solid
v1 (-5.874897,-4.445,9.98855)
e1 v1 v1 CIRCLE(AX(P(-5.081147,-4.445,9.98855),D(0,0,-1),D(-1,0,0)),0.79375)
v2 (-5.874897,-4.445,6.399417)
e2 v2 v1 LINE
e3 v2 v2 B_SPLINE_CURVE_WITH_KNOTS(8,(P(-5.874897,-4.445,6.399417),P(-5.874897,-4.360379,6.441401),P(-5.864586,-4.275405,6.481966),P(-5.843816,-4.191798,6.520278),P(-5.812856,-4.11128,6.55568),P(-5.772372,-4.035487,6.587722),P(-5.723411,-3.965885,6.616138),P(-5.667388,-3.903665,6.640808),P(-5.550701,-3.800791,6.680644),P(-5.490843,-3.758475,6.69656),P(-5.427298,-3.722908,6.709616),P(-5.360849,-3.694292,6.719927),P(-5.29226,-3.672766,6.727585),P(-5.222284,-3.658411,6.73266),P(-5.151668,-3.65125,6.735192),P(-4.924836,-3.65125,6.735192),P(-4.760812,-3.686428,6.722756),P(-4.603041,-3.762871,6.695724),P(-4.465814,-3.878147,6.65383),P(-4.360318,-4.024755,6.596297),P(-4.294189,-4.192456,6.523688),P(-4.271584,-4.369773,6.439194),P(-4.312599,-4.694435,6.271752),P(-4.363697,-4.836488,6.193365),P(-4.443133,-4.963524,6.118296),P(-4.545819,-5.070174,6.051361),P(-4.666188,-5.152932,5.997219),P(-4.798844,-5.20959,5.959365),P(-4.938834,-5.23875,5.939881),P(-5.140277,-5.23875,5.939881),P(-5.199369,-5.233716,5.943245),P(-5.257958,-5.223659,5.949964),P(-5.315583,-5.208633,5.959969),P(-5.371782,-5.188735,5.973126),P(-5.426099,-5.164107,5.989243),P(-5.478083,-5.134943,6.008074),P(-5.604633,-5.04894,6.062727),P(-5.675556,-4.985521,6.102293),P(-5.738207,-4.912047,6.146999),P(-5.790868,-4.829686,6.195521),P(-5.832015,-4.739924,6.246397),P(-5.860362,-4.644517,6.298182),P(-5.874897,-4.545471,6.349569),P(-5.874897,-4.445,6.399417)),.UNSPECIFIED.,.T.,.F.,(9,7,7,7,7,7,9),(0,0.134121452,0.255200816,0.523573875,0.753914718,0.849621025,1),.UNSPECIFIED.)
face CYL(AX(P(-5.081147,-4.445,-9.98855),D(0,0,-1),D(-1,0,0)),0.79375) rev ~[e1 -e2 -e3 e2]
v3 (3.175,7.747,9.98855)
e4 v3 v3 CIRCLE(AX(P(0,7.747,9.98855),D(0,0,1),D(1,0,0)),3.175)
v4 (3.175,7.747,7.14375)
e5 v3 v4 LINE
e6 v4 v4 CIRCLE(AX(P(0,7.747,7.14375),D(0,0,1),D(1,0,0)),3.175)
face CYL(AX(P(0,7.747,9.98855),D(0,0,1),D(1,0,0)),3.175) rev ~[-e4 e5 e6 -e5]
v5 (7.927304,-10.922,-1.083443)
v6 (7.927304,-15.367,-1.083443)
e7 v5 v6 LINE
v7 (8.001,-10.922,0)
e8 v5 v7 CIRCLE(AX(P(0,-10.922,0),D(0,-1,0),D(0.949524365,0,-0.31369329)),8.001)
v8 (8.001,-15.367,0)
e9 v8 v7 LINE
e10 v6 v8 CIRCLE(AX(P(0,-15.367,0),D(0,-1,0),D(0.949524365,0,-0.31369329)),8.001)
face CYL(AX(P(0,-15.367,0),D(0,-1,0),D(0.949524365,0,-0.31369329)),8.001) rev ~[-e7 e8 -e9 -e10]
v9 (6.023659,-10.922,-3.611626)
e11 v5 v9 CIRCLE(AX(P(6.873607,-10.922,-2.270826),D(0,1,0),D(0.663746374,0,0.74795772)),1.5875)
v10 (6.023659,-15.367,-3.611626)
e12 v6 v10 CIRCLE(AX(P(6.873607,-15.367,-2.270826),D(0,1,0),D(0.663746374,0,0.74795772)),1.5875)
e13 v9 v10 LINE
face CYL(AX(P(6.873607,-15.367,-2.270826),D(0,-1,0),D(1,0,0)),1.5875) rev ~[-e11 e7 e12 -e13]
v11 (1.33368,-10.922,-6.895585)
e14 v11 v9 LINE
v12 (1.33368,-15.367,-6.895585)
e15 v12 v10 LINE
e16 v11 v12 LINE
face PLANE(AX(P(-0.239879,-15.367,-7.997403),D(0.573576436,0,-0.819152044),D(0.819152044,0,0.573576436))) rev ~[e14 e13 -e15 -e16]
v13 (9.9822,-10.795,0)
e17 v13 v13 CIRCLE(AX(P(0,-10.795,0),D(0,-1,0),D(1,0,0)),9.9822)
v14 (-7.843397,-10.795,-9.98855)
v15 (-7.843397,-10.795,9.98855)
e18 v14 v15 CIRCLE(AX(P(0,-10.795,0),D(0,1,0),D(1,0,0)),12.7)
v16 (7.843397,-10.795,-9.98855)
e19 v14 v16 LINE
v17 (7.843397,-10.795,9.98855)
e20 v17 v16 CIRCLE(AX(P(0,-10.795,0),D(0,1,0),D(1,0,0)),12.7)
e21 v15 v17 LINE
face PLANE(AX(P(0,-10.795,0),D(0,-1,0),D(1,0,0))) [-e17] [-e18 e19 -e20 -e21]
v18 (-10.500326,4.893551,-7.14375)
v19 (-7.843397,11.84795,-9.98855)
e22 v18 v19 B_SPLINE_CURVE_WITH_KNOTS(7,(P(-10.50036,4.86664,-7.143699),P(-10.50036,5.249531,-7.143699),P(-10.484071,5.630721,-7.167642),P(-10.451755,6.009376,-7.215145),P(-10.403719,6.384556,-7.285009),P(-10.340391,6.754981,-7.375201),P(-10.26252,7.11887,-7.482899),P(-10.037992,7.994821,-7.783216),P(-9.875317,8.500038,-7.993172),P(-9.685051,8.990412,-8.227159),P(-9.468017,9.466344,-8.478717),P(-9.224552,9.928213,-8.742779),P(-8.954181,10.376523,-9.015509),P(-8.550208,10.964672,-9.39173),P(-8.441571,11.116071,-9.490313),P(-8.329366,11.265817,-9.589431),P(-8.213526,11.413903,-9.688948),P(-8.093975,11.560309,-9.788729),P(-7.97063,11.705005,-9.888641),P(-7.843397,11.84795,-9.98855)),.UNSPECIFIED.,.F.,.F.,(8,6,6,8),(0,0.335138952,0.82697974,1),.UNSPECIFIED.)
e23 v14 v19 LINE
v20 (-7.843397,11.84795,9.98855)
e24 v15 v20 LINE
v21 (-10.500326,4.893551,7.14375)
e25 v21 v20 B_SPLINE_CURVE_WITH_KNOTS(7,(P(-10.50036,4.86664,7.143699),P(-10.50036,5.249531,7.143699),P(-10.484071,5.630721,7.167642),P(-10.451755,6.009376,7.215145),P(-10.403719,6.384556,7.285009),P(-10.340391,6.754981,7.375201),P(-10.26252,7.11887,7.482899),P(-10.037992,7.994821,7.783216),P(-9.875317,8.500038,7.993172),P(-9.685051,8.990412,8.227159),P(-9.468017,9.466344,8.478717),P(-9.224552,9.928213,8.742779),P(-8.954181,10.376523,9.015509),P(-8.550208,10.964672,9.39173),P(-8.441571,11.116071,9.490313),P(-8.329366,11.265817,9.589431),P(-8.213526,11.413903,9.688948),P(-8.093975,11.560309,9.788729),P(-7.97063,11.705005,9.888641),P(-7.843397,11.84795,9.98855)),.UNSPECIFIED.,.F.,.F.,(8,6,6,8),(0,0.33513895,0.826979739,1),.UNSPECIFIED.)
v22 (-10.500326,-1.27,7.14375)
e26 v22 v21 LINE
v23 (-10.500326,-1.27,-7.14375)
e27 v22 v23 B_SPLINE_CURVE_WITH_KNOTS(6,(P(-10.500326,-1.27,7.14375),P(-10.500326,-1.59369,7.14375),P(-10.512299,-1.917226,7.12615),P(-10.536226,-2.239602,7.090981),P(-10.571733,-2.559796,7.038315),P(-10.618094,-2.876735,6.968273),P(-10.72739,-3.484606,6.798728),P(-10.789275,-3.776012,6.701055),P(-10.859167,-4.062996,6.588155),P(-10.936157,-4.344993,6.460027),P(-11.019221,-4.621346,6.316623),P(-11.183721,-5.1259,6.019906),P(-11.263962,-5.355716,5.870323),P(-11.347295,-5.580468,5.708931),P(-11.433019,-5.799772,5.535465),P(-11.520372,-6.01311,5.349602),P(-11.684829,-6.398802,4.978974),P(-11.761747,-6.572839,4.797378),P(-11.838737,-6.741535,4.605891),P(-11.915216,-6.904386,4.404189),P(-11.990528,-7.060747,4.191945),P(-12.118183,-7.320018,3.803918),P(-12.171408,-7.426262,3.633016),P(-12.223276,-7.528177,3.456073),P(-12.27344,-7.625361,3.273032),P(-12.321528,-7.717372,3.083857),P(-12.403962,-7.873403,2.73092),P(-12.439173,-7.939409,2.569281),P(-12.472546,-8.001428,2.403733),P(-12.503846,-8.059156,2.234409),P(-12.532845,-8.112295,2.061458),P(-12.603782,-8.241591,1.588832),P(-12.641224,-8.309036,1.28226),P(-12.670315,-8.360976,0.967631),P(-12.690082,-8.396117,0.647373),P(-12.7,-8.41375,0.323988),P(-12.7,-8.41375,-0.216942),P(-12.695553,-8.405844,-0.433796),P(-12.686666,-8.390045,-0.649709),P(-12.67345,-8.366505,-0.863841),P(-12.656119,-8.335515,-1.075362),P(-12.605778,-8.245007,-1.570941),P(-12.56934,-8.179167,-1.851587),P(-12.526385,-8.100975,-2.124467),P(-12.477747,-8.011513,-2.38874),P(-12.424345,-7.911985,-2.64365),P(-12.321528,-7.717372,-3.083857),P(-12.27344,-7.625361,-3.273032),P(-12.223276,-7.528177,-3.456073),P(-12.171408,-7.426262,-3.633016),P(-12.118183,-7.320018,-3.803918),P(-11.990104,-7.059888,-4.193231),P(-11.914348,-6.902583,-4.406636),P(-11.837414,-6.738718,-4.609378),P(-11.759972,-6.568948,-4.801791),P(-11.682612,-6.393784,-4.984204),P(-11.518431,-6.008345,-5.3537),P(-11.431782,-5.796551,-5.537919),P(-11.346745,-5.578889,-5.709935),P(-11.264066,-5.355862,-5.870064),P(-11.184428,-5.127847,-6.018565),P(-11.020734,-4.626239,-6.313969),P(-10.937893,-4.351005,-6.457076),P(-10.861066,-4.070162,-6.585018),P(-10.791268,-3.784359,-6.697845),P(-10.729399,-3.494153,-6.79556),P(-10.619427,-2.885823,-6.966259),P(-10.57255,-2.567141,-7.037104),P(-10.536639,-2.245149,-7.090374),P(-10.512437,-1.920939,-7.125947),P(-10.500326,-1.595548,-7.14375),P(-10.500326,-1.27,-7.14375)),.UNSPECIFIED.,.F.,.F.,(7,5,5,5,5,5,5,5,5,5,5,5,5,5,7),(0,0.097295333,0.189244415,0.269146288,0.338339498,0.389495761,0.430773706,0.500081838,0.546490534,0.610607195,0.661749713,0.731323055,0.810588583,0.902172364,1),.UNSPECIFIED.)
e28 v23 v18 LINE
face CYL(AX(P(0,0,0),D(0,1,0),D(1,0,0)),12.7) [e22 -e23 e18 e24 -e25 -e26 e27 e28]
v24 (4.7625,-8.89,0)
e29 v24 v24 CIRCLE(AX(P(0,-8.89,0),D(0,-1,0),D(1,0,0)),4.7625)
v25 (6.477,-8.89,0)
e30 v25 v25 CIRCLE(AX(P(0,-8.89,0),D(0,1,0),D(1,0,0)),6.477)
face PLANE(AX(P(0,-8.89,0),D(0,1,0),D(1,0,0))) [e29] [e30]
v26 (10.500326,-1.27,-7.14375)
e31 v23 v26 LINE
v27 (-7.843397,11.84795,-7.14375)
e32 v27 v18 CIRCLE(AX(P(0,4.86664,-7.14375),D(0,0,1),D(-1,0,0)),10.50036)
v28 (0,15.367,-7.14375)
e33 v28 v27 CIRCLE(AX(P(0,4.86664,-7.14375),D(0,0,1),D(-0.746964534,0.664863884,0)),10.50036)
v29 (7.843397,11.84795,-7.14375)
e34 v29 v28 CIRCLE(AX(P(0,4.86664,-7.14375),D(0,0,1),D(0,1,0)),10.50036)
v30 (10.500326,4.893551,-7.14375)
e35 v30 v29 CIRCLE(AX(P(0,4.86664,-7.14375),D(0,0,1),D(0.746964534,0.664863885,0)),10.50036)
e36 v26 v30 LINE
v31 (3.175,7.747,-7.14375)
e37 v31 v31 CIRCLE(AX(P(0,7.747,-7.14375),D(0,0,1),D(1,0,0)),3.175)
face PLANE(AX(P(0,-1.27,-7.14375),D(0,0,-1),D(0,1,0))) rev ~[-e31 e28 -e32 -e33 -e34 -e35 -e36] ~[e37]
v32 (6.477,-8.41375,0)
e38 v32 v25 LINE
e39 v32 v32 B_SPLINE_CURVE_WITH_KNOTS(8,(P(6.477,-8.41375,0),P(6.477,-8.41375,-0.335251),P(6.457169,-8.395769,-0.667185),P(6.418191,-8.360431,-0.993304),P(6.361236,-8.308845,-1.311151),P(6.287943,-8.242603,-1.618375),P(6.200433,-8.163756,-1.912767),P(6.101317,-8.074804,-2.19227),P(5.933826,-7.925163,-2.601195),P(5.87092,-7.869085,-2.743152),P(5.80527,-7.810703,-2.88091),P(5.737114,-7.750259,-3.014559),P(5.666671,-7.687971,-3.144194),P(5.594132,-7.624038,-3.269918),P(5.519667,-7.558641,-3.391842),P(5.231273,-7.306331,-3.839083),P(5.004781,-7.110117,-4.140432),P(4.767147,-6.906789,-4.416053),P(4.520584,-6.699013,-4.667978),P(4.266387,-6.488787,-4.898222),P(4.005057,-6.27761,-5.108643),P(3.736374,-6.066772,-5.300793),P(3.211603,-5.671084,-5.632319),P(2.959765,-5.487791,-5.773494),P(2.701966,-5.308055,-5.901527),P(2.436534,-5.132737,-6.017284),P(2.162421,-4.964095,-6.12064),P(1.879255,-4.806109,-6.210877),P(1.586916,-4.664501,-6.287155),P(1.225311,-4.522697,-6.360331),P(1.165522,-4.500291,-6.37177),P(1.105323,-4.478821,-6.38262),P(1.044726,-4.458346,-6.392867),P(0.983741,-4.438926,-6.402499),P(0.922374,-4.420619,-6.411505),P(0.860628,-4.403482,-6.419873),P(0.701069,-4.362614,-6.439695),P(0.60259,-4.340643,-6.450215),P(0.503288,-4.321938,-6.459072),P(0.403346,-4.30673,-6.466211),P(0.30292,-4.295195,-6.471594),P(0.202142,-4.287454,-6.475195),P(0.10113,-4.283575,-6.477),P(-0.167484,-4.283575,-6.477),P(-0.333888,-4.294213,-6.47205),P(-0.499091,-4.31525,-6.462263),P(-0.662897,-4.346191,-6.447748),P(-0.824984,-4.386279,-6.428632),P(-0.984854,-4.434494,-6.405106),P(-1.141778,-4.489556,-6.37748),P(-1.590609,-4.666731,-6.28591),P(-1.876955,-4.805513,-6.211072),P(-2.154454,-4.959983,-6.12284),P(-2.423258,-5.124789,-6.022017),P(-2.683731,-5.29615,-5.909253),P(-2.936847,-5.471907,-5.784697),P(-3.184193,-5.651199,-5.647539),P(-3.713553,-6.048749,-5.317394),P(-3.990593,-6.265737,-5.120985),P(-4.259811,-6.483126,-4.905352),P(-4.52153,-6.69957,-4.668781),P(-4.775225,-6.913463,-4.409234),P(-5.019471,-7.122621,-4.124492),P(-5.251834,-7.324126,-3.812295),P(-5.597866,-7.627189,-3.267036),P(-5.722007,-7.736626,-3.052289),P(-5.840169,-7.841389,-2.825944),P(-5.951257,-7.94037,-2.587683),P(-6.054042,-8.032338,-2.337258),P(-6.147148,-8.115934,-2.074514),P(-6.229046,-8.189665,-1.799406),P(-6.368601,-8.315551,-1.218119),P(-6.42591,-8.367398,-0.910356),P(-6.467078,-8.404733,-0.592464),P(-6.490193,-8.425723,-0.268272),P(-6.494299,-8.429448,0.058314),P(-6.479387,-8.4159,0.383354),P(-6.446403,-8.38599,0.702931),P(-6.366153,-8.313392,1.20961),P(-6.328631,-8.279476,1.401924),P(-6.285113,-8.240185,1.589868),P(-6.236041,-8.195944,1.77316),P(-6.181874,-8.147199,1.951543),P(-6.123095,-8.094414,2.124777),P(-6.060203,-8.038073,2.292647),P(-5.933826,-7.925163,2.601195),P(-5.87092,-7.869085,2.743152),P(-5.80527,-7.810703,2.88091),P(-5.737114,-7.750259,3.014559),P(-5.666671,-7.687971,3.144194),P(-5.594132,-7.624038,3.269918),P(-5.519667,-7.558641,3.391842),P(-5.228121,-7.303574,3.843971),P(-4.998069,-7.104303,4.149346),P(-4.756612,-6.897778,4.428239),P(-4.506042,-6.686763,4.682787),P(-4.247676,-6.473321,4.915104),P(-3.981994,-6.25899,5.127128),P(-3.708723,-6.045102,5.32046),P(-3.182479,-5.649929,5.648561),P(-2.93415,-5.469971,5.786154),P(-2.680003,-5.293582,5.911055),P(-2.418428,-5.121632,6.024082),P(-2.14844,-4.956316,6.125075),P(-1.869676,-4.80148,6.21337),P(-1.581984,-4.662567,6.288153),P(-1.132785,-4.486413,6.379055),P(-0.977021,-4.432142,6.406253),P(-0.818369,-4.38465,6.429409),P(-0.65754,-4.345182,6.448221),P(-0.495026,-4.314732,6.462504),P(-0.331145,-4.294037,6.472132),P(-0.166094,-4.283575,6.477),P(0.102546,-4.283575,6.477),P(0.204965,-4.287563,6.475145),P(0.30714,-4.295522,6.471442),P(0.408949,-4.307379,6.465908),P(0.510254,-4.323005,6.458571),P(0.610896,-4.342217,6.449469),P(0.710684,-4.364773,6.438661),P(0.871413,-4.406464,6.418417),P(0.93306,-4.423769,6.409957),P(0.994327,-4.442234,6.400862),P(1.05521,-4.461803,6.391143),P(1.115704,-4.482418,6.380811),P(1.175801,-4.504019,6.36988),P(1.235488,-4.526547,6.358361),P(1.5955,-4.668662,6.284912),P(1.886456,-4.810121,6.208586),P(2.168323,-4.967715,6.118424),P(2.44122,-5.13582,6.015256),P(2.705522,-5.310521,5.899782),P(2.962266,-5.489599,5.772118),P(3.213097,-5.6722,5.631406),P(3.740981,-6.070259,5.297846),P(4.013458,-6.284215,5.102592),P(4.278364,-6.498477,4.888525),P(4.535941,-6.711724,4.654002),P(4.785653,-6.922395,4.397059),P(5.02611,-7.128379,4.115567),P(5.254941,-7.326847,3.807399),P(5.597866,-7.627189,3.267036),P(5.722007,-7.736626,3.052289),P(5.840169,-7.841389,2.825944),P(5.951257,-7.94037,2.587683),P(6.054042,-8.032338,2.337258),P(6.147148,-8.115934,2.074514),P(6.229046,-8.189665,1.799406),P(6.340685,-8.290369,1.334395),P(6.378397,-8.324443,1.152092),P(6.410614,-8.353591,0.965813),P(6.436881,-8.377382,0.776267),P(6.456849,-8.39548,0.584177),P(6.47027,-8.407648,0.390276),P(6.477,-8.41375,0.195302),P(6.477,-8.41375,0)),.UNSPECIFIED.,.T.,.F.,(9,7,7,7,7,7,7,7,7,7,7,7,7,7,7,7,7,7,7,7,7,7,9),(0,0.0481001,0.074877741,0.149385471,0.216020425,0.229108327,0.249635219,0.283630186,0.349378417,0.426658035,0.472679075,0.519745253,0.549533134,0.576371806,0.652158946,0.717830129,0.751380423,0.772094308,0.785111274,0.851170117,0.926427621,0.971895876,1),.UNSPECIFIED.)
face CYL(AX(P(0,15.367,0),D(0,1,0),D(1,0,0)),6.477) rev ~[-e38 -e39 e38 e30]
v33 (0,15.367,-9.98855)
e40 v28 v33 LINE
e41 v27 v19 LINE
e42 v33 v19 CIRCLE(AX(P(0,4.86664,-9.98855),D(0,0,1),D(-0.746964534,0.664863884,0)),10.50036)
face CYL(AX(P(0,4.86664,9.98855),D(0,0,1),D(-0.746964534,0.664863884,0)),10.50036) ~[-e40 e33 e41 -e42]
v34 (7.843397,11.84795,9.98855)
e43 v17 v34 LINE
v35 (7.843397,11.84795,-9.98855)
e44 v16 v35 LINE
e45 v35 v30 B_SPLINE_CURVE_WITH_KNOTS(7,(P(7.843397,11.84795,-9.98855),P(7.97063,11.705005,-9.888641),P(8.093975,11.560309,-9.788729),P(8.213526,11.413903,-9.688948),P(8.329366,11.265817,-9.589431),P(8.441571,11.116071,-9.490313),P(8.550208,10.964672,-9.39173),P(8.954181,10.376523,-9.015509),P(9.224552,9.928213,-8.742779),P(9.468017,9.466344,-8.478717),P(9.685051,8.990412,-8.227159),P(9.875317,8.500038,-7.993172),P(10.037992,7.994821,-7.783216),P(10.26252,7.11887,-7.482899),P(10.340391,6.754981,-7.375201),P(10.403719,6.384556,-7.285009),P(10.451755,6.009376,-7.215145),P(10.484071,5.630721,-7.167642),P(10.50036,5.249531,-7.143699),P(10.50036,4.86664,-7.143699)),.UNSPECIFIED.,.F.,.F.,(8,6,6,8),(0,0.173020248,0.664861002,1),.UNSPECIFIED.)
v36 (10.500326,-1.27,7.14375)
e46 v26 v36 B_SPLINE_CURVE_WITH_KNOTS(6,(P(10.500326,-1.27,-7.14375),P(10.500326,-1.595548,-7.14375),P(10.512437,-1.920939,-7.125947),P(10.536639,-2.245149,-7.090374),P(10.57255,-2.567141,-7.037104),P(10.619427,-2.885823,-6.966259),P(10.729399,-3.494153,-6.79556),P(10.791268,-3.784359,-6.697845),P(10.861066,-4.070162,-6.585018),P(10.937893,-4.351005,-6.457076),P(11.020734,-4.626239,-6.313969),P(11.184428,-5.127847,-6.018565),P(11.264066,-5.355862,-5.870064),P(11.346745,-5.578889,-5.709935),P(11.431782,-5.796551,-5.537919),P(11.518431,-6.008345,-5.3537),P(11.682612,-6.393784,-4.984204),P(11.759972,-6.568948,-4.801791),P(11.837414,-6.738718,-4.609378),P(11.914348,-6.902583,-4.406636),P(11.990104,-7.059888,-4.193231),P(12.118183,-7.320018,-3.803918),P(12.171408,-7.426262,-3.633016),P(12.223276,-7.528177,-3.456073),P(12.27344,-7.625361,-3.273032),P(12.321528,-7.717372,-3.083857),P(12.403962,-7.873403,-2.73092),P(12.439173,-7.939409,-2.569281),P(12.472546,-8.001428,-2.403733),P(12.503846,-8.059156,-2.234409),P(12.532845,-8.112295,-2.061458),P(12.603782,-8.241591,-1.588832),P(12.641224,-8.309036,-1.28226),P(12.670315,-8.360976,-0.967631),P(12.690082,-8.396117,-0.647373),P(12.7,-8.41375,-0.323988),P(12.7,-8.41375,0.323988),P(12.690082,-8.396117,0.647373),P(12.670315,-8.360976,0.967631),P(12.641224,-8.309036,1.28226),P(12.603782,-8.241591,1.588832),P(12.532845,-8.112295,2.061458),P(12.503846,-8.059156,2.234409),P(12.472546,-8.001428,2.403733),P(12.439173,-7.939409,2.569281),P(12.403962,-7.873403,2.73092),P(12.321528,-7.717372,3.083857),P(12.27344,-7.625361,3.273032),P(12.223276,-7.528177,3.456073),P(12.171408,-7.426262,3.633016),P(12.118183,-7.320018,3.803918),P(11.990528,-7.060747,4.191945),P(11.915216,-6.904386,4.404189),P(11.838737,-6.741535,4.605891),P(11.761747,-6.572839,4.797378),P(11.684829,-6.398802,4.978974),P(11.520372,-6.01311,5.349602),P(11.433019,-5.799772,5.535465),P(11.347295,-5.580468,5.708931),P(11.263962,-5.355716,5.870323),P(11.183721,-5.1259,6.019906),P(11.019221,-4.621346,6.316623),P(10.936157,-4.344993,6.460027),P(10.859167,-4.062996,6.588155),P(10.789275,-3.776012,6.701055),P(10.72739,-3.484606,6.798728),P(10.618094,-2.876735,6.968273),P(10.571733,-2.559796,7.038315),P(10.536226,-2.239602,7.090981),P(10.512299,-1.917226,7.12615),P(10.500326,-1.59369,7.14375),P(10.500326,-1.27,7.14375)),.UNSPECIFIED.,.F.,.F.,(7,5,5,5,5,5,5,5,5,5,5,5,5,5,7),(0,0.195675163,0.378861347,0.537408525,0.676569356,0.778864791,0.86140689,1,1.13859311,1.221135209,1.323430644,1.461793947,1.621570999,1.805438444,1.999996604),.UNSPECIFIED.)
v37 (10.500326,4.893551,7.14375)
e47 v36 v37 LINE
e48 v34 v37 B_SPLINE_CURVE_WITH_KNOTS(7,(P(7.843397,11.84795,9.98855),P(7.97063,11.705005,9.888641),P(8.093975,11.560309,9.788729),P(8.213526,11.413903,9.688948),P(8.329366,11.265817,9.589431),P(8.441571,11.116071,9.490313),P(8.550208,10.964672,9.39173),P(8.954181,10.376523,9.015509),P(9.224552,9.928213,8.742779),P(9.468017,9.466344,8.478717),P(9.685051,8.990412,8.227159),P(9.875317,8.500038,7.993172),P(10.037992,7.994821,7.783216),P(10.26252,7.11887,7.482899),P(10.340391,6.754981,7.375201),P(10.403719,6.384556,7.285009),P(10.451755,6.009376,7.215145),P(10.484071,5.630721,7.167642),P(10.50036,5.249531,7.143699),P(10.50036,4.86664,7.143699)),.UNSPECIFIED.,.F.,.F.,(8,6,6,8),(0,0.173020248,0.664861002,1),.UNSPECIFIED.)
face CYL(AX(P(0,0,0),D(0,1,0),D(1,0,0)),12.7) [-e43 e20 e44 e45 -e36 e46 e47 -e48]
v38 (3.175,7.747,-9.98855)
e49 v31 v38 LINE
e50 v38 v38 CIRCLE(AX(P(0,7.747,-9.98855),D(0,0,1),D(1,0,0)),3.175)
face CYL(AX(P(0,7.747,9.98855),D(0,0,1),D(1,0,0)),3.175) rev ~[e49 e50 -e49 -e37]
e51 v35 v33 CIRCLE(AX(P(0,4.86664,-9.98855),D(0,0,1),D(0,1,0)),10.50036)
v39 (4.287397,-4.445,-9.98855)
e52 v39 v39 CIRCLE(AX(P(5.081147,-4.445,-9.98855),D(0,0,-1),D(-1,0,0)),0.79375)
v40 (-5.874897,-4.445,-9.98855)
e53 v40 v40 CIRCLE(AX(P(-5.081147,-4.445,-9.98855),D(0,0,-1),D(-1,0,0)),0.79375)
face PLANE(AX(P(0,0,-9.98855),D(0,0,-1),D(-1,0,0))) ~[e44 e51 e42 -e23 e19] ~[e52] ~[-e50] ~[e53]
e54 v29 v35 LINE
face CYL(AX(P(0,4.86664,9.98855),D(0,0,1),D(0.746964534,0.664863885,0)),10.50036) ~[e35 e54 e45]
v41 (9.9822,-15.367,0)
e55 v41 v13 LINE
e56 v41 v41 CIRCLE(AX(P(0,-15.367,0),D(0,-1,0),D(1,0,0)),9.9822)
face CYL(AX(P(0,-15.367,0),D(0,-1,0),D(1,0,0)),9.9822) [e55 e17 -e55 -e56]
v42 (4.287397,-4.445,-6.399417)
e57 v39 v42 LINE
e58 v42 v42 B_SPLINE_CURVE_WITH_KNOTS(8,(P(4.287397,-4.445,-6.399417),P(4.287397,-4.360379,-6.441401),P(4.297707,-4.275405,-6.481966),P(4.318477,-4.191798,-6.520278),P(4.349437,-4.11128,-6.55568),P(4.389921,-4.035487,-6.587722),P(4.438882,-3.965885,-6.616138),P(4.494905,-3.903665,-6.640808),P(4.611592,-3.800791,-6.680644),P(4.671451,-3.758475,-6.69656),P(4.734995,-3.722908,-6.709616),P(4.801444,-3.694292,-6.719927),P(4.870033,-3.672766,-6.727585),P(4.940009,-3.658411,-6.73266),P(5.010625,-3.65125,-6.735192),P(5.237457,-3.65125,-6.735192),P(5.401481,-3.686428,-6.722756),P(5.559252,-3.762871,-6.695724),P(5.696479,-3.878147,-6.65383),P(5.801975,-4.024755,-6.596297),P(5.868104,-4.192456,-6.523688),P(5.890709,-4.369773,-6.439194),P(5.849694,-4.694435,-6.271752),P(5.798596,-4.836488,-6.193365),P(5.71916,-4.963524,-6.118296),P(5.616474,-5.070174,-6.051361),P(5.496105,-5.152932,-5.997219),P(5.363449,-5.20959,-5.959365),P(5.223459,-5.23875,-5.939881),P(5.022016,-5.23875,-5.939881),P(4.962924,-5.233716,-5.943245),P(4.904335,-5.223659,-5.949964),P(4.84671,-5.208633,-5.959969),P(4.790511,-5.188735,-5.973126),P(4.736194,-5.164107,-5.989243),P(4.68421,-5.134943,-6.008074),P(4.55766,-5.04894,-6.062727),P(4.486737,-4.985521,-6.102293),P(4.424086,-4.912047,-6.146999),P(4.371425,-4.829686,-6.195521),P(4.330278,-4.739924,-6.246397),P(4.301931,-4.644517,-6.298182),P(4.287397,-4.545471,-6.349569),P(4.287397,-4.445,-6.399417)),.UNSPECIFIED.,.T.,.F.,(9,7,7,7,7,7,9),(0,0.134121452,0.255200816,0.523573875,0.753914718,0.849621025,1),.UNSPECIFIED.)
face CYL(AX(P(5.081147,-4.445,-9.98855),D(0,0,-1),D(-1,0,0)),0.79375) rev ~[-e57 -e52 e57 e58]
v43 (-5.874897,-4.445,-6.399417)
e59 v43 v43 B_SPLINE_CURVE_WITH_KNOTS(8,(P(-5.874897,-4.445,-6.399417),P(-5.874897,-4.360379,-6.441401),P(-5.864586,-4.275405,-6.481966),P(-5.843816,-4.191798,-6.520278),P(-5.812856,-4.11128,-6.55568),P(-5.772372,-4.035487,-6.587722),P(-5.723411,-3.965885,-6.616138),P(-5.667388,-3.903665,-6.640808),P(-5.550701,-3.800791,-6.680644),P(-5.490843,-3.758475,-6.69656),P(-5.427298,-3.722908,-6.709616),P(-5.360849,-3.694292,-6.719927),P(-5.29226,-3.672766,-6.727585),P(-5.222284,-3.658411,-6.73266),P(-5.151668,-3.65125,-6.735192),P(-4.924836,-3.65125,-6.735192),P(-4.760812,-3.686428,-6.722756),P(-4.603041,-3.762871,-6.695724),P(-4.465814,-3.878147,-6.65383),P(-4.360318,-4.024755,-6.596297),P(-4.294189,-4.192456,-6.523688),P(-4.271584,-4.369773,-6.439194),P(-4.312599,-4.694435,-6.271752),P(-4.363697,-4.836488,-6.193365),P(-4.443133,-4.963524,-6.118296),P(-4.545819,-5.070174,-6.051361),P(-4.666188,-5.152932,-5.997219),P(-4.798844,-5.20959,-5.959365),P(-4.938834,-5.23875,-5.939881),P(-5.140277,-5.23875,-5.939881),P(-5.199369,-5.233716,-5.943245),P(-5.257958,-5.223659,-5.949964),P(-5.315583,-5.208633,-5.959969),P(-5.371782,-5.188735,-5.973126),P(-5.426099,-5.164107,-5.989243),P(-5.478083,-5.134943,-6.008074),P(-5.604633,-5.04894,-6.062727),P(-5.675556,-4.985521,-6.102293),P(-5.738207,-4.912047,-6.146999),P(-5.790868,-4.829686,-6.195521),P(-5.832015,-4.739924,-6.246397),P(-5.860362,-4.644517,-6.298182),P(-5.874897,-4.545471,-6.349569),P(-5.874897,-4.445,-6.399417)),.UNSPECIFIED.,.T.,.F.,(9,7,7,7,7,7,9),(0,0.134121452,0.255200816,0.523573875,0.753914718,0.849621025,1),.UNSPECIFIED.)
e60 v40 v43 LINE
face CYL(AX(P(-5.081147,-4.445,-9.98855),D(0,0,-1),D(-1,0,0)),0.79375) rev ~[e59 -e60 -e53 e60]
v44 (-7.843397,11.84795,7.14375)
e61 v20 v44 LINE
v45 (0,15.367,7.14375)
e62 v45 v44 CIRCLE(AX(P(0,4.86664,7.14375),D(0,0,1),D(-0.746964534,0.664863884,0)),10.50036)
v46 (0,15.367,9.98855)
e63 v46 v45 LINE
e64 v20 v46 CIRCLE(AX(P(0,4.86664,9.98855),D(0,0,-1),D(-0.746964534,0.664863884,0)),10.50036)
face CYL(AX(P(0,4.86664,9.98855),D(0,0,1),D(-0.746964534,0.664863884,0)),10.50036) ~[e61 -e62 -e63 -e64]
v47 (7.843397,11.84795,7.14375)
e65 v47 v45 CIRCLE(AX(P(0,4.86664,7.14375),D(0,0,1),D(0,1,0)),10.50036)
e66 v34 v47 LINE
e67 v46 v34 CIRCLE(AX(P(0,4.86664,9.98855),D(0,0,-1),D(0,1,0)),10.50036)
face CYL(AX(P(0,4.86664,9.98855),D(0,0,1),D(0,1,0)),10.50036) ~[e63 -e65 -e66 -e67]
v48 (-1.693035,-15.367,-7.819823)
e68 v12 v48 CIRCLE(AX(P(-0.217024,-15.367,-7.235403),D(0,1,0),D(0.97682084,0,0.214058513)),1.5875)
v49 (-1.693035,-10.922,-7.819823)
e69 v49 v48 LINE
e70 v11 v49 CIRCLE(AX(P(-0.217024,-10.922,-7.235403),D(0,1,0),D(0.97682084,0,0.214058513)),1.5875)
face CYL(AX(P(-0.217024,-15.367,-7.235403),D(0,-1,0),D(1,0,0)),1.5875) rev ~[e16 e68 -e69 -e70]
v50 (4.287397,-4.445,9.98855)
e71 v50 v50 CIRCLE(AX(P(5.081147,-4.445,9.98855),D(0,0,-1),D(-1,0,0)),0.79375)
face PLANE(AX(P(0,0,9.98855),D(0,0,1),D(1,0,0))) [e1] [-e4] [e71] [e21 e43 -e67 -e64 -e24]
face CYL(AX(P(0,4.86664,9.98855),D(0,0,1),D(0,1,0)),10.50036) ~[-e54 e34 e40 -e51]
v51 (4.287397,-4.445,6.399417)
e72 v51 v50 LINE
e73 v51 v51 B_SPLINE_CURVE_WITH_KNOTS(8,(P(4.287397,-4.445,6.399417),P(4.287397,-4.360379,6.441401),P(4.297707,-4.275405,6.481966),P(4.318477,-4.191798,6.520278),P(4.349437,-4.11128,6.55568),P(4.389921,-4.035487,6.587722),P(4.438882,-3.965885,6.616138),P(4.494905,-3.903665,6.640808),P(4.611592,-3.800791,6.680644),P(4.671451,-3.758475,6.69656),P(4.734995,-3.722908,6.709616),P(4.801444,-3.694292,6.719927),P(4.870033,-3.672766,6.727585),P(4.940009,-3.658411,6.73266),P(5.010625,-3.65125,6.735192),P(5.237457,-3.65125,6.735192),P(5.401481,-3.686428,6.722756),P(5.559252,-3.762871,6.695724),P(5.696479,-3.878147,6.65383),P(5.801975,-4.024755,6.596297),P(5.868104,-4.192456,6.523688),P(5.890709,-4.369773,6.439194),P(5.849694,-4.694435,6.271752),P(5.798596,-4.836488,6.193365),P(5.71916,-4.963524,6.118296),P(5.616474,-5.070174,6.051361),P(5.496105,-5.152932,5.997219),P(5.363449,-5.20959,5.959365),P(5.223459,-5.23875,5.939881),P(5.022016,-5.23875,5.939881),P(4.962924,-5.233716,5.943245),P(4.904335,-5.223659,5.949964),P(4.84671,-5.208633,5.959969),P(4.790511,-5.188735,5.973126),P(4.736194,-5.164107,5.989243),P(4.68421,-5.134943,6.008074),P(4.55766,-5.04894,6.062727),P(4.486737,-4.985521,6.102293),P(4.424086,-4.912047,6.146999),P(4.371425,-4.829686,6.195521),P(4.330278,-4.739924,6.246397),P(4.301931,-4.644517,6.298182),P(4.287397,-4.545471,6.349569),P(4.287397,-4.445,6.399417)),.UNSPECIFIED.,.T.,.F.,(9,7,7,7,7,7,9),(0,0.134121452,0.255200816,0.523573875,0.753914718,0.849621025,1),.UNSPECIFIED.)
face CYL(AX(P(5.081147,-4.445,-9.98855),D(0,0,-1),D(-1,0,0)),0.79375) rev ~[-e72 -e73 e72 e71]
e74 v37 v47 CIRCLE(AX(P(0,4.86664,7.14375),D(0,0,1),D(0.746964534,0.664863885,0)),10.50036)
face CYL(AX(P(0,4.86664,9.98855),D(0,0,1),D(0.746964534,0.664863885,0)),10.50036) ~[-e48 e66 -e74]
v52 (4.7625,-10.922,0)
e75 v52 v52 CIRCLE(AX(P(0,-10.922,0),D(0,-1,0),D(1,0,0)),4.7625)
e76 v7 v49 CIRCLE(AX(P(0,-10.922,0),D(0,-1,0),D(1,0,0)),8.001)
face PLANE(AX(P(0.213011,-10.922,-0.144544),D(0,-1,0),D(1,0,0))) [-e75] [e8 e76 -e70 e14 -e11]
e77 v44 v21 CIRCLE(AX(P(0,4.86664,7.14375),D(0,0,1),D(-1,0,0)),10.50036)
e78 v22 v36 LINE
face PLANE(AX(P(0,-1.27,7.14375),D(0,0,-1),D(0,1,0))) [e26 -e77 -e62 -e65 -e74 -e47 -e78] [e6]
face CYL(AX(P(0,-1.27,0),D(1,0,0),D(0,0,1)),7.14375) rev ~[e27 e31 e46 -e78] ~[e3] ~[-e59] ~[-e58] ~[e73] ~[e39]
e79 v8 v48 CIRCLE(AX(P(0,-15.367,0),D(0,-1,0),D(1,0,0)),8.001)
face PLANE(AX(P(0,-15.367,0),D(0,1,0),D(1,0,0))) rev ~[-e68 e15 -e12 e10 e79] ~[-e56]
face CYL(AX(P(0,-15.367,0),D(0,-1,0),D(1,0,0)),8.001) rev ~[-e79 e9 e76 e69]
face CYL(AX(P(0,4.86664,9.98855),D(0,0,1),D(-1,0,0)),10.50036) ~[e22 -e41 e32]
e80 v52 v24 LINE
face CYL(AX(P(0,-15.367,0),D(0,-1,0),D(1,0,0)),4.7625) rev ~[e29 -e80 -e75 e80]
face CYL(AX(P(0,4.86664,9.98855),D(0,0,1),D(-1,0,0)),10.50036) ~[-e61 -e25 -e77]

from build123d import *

# Parameters (mm, degrees)
SKETCH1_R                = 12.7
BOSS_EXTRUDE1_DEPTH      = 15.367
BOSS_EXTRUDE1_DEPTH_BACK = 15.367
SKETCH4_W                = 25.4
SKETCH4_H                = 30.734
CUT_EXTRUDE2_DEPTH       = 3.71145
SKETCH5_W                = 14.2875
SKETCH5_H                = 16.637
CUT_EXTRUDE3_DEPTH       = 13.7
CUT_EXTRUDE3_DEPTH_BACK  = 13.7
CUT_EXTRUDE4_DEPTH       = 20.9771001
SKETCH7_R                = 4.7625
CUT_EXTRUDE5_DEPTH       = 31.7340001
SKETCH9_R                = 17.852773039
SKETCH9_R_2              = 9.9822
CUT_EXTRUDE6_DEPTH       = 4.572
SKETCH10_R               = 6.477
CUT_EXTRUDE7_DEPTH       = 24.257
SKETCH11_R               = 3.175
CUT_EXTRUDE8_DEPTH       = 20.9771001
SKETCH12_R               = 0.79375
CUT_EXTRUDE9_DEPTH       = 1.0000001
CUT_EXTRUDE9_DEPTH_BACK  = 20.9771001
SKETCH15_R               = 4.7625
CUT_EXTRUDE12_DEPTH      = 4.445
SKETCH16_R               = 1.5875
CUT_EXTRUDE13_DEPTH      = 4.445


with BuildPart() as part:
    # Sketch1 → Boss-Extrude1 (new body, two sides)
    with BuildSketch(Plane(origin=(0, 0, 0), x_dir=(1, 0, 0), z_dir=(0, 1, 0))) as boss_extrude1_sk:
        Circle(SKETCH1_R)
    extrude(amount=BOSS_EXTRUDE1_DEPTH)
    extrude(boss_extrude1_sk.sketch, amount=-BOSS_EXTRUDE1_DEPTH_BACK)

    # Sketch4 → Cut-Extrude2 (cut, through all)
    with BuildSketch(Plane.XY.offset(9.98855)):
        Rectangle(SKETCH4_W, SKETCH4_H)
    cut_extrude2 = extrude(amount=CUT_EXTRUDE2_DEPTH, mode=Mode.SUBTRACT)

    # Mirror2: Cut-Extrude2 across plane
    add(cut_extrude2.mirror(Plane.XY), mode=Mode.SUBTRACT)

    # Sketch5 → Cut-Extrude3 (cut, two sides)
    with BuildSketch(Plane(origin=(0, 0, 0), x_dir=(0, 0, -1), z_dir=(1, 0, 0))) as cut_extrude3_sk:
        with Locations((0, 7.0485)):
            Rectangle(SKETCH5_W, SKETCH5_H)
        with BuildLine():
            Line((7.14375, -1.27), (-7.14375, -1.27))
            ThreePointArc((-7.14375, -1.27), (0, -8.41375), (7.14375, -1.27))
        make_face()
    extrude(amount=CUT_EXTRUDE3_DEPTH, mode=Mode.SUBTRACT)
    extrude(cut_extrude3_sk.sketch, amount=-CUT_EXTRUDE3_DEPTH_BACK, mode=Mode.SUBTRACT)

    # Sketch6 → Cut-Extrude4 (cut, through all)
    with BuildSketch(Plane.XY.offset(9.98855)):
        with BuildLine():
            ThreePointArc((7.843396515, 11.847950137), (9.813665145, 8.601547837), (10.50036, 4.86664))
            Line((10.50036, 4.86664), (14.849727138, 4.86664))
            ThreePointArc((14.849727138, 4.86664), (0, 19.716367138), (-14.849727138, 4.86664))
            Line((-14.849727138, 4.86664), (-10.50036, 4.86664))
            ThreePointArc((-10.50036, 4.86664), (-9.813665145, 8.601547837), (-7.843396515, 11.847950137))
            Line((-7.843396515, 11.847950137), (-7.843396515, 15.367))
            Line((-7.843396515, 15.367), (0, 15.367))
            Line((0, 15.367), (7.843396515, 15.367))
            Line((7.843396515, 15.367), (7.843396515, 11.847950137))
        make_face()
        with BuildLine():
            ThreePointArc((-7.843396515, 11.847950137), (-4.298330514, 14.446927831), (0, 15.367))
            Line((0, 15.367), (-7.843396515, 15.367))
            Line((-7.843396515, 15.367), (-7.843396515, 11.847950137))
        make_face()
        with BuildLine():
            ThreePointArc((0, 15.367), (4.298330514, 14.446927831), (7.843396515, 11.847950137))
            Line((7.843396515, 11.847950137), (7.843396515, 15.367))
            Line((7.843396515, 15.367), (0, 15.367))
        make_face()
    extrude(amount=-CUT_EXTRUDE4_DEPTH, mode=Mode.SUBTRACT)

    # Sketch7 → Cut-Extrude5 (cut, through all)
    with BuildSketch(Plane.XZ.offset(15.367)):
        Circle(SKETCH7_R)
    extrude(amount=-CUT_EXTRUDE5_DEPTH, mode=Mode.SUBTRACT)

    # Sketch9 → Cut-Extrude6 (cut)
    with BuildSketch(Plane.XZ.offset(15.367)):
        Circle(SKETCH9_R)
        Circle(SKETCH9_R_2, mode=Mode.SUBTRACT)
    extrude(amount=-CUT_EXTRUDE6_DEPTH, mode=Mode.SUBTRACT)

    # Sketch10 → Cut-Extrude7 (cut)
    with BuildSketch(Plane(origin=(0, 15.367, 0), x_dir=(1, 0, 0), z_dir=(0, 1, 0))):
        Circle(SKETCH10_R)
    extrude(amount=-CUT_EXTRUDE7_DEPTH, mode=Mode.SUBTRACT)

    # Sketch11 → Cut-Extrude8 (cut, through all)
    with BuildSketch(Plane.XY.offset(9.98855)):
        with Locations((0, 7.747)):
            Circle(SKETCH11_R)
    extrude(amount=-CUT_EXTRUDE8_DEPTH, mode=Mode.SUBTRACT)

    # Sketch12 → Cut-Extrude9 (cut, two sides)
    with BuildSketch(Plane(origin=(0, 0, -9.98855), x_dir=(-1, 0, 0), z_dir=(0, 0, -1))) as cut_extrude9_sk:
        with Locations((5.081146515, -4.445)):
            Circle(SKETCH12_R)
        with Locations((-5.081146515, -4.445)):
            Circle(SKETCH12_R)
    extrude(amount=CUT_EXTRUDE9_DEPTH, mode=Mode.SUBTRACT)
    extrude(cut_extrude9_sk.sketch, amount=-CUT_EXTRUDE9_DEPTH_BACK, mode=Mode.SUBTRACT)

    # Sketch15 → Cut-Extrude12 (cut)
    with BuildSketch(Plane.XZ.offset(15.367)):
        with BuildLine():
            ThreePointArc((8.001, 0), (-5.572105758, 5.741745241), (-0.239879494, -7.997403255))
            Line((-0.239879494, -7.997403255), (7.597144444, -2.509860017))
            ThreePointArc((7.597144444, -2.509860017), (7.899390916, -1.271072049), (8.001, 0))
        make_face()
        Circle(SKETCH15_R, mode=Mode.SUBTRACT)
    extrude(amount=-CUT_EXTRUDE12_DEPTH, mode=Mode.SUBTRACT)

    # Sketch16 → Cut-Extrude13 (cut)
    with BuildSketch(Plane.XZ.offset(15.367)):
        with Locations((-0.217023554, -7.235403255)):
            Circle(SKETCH16_R)
        with Locations((6.873606877, -2.270825729)):
            Circle(SKETCH16_R)
    extrude(amount=-CUT_EXTRUDE13_DEPTH, mode=Mode.SUBTRACT)


solid = part.part
